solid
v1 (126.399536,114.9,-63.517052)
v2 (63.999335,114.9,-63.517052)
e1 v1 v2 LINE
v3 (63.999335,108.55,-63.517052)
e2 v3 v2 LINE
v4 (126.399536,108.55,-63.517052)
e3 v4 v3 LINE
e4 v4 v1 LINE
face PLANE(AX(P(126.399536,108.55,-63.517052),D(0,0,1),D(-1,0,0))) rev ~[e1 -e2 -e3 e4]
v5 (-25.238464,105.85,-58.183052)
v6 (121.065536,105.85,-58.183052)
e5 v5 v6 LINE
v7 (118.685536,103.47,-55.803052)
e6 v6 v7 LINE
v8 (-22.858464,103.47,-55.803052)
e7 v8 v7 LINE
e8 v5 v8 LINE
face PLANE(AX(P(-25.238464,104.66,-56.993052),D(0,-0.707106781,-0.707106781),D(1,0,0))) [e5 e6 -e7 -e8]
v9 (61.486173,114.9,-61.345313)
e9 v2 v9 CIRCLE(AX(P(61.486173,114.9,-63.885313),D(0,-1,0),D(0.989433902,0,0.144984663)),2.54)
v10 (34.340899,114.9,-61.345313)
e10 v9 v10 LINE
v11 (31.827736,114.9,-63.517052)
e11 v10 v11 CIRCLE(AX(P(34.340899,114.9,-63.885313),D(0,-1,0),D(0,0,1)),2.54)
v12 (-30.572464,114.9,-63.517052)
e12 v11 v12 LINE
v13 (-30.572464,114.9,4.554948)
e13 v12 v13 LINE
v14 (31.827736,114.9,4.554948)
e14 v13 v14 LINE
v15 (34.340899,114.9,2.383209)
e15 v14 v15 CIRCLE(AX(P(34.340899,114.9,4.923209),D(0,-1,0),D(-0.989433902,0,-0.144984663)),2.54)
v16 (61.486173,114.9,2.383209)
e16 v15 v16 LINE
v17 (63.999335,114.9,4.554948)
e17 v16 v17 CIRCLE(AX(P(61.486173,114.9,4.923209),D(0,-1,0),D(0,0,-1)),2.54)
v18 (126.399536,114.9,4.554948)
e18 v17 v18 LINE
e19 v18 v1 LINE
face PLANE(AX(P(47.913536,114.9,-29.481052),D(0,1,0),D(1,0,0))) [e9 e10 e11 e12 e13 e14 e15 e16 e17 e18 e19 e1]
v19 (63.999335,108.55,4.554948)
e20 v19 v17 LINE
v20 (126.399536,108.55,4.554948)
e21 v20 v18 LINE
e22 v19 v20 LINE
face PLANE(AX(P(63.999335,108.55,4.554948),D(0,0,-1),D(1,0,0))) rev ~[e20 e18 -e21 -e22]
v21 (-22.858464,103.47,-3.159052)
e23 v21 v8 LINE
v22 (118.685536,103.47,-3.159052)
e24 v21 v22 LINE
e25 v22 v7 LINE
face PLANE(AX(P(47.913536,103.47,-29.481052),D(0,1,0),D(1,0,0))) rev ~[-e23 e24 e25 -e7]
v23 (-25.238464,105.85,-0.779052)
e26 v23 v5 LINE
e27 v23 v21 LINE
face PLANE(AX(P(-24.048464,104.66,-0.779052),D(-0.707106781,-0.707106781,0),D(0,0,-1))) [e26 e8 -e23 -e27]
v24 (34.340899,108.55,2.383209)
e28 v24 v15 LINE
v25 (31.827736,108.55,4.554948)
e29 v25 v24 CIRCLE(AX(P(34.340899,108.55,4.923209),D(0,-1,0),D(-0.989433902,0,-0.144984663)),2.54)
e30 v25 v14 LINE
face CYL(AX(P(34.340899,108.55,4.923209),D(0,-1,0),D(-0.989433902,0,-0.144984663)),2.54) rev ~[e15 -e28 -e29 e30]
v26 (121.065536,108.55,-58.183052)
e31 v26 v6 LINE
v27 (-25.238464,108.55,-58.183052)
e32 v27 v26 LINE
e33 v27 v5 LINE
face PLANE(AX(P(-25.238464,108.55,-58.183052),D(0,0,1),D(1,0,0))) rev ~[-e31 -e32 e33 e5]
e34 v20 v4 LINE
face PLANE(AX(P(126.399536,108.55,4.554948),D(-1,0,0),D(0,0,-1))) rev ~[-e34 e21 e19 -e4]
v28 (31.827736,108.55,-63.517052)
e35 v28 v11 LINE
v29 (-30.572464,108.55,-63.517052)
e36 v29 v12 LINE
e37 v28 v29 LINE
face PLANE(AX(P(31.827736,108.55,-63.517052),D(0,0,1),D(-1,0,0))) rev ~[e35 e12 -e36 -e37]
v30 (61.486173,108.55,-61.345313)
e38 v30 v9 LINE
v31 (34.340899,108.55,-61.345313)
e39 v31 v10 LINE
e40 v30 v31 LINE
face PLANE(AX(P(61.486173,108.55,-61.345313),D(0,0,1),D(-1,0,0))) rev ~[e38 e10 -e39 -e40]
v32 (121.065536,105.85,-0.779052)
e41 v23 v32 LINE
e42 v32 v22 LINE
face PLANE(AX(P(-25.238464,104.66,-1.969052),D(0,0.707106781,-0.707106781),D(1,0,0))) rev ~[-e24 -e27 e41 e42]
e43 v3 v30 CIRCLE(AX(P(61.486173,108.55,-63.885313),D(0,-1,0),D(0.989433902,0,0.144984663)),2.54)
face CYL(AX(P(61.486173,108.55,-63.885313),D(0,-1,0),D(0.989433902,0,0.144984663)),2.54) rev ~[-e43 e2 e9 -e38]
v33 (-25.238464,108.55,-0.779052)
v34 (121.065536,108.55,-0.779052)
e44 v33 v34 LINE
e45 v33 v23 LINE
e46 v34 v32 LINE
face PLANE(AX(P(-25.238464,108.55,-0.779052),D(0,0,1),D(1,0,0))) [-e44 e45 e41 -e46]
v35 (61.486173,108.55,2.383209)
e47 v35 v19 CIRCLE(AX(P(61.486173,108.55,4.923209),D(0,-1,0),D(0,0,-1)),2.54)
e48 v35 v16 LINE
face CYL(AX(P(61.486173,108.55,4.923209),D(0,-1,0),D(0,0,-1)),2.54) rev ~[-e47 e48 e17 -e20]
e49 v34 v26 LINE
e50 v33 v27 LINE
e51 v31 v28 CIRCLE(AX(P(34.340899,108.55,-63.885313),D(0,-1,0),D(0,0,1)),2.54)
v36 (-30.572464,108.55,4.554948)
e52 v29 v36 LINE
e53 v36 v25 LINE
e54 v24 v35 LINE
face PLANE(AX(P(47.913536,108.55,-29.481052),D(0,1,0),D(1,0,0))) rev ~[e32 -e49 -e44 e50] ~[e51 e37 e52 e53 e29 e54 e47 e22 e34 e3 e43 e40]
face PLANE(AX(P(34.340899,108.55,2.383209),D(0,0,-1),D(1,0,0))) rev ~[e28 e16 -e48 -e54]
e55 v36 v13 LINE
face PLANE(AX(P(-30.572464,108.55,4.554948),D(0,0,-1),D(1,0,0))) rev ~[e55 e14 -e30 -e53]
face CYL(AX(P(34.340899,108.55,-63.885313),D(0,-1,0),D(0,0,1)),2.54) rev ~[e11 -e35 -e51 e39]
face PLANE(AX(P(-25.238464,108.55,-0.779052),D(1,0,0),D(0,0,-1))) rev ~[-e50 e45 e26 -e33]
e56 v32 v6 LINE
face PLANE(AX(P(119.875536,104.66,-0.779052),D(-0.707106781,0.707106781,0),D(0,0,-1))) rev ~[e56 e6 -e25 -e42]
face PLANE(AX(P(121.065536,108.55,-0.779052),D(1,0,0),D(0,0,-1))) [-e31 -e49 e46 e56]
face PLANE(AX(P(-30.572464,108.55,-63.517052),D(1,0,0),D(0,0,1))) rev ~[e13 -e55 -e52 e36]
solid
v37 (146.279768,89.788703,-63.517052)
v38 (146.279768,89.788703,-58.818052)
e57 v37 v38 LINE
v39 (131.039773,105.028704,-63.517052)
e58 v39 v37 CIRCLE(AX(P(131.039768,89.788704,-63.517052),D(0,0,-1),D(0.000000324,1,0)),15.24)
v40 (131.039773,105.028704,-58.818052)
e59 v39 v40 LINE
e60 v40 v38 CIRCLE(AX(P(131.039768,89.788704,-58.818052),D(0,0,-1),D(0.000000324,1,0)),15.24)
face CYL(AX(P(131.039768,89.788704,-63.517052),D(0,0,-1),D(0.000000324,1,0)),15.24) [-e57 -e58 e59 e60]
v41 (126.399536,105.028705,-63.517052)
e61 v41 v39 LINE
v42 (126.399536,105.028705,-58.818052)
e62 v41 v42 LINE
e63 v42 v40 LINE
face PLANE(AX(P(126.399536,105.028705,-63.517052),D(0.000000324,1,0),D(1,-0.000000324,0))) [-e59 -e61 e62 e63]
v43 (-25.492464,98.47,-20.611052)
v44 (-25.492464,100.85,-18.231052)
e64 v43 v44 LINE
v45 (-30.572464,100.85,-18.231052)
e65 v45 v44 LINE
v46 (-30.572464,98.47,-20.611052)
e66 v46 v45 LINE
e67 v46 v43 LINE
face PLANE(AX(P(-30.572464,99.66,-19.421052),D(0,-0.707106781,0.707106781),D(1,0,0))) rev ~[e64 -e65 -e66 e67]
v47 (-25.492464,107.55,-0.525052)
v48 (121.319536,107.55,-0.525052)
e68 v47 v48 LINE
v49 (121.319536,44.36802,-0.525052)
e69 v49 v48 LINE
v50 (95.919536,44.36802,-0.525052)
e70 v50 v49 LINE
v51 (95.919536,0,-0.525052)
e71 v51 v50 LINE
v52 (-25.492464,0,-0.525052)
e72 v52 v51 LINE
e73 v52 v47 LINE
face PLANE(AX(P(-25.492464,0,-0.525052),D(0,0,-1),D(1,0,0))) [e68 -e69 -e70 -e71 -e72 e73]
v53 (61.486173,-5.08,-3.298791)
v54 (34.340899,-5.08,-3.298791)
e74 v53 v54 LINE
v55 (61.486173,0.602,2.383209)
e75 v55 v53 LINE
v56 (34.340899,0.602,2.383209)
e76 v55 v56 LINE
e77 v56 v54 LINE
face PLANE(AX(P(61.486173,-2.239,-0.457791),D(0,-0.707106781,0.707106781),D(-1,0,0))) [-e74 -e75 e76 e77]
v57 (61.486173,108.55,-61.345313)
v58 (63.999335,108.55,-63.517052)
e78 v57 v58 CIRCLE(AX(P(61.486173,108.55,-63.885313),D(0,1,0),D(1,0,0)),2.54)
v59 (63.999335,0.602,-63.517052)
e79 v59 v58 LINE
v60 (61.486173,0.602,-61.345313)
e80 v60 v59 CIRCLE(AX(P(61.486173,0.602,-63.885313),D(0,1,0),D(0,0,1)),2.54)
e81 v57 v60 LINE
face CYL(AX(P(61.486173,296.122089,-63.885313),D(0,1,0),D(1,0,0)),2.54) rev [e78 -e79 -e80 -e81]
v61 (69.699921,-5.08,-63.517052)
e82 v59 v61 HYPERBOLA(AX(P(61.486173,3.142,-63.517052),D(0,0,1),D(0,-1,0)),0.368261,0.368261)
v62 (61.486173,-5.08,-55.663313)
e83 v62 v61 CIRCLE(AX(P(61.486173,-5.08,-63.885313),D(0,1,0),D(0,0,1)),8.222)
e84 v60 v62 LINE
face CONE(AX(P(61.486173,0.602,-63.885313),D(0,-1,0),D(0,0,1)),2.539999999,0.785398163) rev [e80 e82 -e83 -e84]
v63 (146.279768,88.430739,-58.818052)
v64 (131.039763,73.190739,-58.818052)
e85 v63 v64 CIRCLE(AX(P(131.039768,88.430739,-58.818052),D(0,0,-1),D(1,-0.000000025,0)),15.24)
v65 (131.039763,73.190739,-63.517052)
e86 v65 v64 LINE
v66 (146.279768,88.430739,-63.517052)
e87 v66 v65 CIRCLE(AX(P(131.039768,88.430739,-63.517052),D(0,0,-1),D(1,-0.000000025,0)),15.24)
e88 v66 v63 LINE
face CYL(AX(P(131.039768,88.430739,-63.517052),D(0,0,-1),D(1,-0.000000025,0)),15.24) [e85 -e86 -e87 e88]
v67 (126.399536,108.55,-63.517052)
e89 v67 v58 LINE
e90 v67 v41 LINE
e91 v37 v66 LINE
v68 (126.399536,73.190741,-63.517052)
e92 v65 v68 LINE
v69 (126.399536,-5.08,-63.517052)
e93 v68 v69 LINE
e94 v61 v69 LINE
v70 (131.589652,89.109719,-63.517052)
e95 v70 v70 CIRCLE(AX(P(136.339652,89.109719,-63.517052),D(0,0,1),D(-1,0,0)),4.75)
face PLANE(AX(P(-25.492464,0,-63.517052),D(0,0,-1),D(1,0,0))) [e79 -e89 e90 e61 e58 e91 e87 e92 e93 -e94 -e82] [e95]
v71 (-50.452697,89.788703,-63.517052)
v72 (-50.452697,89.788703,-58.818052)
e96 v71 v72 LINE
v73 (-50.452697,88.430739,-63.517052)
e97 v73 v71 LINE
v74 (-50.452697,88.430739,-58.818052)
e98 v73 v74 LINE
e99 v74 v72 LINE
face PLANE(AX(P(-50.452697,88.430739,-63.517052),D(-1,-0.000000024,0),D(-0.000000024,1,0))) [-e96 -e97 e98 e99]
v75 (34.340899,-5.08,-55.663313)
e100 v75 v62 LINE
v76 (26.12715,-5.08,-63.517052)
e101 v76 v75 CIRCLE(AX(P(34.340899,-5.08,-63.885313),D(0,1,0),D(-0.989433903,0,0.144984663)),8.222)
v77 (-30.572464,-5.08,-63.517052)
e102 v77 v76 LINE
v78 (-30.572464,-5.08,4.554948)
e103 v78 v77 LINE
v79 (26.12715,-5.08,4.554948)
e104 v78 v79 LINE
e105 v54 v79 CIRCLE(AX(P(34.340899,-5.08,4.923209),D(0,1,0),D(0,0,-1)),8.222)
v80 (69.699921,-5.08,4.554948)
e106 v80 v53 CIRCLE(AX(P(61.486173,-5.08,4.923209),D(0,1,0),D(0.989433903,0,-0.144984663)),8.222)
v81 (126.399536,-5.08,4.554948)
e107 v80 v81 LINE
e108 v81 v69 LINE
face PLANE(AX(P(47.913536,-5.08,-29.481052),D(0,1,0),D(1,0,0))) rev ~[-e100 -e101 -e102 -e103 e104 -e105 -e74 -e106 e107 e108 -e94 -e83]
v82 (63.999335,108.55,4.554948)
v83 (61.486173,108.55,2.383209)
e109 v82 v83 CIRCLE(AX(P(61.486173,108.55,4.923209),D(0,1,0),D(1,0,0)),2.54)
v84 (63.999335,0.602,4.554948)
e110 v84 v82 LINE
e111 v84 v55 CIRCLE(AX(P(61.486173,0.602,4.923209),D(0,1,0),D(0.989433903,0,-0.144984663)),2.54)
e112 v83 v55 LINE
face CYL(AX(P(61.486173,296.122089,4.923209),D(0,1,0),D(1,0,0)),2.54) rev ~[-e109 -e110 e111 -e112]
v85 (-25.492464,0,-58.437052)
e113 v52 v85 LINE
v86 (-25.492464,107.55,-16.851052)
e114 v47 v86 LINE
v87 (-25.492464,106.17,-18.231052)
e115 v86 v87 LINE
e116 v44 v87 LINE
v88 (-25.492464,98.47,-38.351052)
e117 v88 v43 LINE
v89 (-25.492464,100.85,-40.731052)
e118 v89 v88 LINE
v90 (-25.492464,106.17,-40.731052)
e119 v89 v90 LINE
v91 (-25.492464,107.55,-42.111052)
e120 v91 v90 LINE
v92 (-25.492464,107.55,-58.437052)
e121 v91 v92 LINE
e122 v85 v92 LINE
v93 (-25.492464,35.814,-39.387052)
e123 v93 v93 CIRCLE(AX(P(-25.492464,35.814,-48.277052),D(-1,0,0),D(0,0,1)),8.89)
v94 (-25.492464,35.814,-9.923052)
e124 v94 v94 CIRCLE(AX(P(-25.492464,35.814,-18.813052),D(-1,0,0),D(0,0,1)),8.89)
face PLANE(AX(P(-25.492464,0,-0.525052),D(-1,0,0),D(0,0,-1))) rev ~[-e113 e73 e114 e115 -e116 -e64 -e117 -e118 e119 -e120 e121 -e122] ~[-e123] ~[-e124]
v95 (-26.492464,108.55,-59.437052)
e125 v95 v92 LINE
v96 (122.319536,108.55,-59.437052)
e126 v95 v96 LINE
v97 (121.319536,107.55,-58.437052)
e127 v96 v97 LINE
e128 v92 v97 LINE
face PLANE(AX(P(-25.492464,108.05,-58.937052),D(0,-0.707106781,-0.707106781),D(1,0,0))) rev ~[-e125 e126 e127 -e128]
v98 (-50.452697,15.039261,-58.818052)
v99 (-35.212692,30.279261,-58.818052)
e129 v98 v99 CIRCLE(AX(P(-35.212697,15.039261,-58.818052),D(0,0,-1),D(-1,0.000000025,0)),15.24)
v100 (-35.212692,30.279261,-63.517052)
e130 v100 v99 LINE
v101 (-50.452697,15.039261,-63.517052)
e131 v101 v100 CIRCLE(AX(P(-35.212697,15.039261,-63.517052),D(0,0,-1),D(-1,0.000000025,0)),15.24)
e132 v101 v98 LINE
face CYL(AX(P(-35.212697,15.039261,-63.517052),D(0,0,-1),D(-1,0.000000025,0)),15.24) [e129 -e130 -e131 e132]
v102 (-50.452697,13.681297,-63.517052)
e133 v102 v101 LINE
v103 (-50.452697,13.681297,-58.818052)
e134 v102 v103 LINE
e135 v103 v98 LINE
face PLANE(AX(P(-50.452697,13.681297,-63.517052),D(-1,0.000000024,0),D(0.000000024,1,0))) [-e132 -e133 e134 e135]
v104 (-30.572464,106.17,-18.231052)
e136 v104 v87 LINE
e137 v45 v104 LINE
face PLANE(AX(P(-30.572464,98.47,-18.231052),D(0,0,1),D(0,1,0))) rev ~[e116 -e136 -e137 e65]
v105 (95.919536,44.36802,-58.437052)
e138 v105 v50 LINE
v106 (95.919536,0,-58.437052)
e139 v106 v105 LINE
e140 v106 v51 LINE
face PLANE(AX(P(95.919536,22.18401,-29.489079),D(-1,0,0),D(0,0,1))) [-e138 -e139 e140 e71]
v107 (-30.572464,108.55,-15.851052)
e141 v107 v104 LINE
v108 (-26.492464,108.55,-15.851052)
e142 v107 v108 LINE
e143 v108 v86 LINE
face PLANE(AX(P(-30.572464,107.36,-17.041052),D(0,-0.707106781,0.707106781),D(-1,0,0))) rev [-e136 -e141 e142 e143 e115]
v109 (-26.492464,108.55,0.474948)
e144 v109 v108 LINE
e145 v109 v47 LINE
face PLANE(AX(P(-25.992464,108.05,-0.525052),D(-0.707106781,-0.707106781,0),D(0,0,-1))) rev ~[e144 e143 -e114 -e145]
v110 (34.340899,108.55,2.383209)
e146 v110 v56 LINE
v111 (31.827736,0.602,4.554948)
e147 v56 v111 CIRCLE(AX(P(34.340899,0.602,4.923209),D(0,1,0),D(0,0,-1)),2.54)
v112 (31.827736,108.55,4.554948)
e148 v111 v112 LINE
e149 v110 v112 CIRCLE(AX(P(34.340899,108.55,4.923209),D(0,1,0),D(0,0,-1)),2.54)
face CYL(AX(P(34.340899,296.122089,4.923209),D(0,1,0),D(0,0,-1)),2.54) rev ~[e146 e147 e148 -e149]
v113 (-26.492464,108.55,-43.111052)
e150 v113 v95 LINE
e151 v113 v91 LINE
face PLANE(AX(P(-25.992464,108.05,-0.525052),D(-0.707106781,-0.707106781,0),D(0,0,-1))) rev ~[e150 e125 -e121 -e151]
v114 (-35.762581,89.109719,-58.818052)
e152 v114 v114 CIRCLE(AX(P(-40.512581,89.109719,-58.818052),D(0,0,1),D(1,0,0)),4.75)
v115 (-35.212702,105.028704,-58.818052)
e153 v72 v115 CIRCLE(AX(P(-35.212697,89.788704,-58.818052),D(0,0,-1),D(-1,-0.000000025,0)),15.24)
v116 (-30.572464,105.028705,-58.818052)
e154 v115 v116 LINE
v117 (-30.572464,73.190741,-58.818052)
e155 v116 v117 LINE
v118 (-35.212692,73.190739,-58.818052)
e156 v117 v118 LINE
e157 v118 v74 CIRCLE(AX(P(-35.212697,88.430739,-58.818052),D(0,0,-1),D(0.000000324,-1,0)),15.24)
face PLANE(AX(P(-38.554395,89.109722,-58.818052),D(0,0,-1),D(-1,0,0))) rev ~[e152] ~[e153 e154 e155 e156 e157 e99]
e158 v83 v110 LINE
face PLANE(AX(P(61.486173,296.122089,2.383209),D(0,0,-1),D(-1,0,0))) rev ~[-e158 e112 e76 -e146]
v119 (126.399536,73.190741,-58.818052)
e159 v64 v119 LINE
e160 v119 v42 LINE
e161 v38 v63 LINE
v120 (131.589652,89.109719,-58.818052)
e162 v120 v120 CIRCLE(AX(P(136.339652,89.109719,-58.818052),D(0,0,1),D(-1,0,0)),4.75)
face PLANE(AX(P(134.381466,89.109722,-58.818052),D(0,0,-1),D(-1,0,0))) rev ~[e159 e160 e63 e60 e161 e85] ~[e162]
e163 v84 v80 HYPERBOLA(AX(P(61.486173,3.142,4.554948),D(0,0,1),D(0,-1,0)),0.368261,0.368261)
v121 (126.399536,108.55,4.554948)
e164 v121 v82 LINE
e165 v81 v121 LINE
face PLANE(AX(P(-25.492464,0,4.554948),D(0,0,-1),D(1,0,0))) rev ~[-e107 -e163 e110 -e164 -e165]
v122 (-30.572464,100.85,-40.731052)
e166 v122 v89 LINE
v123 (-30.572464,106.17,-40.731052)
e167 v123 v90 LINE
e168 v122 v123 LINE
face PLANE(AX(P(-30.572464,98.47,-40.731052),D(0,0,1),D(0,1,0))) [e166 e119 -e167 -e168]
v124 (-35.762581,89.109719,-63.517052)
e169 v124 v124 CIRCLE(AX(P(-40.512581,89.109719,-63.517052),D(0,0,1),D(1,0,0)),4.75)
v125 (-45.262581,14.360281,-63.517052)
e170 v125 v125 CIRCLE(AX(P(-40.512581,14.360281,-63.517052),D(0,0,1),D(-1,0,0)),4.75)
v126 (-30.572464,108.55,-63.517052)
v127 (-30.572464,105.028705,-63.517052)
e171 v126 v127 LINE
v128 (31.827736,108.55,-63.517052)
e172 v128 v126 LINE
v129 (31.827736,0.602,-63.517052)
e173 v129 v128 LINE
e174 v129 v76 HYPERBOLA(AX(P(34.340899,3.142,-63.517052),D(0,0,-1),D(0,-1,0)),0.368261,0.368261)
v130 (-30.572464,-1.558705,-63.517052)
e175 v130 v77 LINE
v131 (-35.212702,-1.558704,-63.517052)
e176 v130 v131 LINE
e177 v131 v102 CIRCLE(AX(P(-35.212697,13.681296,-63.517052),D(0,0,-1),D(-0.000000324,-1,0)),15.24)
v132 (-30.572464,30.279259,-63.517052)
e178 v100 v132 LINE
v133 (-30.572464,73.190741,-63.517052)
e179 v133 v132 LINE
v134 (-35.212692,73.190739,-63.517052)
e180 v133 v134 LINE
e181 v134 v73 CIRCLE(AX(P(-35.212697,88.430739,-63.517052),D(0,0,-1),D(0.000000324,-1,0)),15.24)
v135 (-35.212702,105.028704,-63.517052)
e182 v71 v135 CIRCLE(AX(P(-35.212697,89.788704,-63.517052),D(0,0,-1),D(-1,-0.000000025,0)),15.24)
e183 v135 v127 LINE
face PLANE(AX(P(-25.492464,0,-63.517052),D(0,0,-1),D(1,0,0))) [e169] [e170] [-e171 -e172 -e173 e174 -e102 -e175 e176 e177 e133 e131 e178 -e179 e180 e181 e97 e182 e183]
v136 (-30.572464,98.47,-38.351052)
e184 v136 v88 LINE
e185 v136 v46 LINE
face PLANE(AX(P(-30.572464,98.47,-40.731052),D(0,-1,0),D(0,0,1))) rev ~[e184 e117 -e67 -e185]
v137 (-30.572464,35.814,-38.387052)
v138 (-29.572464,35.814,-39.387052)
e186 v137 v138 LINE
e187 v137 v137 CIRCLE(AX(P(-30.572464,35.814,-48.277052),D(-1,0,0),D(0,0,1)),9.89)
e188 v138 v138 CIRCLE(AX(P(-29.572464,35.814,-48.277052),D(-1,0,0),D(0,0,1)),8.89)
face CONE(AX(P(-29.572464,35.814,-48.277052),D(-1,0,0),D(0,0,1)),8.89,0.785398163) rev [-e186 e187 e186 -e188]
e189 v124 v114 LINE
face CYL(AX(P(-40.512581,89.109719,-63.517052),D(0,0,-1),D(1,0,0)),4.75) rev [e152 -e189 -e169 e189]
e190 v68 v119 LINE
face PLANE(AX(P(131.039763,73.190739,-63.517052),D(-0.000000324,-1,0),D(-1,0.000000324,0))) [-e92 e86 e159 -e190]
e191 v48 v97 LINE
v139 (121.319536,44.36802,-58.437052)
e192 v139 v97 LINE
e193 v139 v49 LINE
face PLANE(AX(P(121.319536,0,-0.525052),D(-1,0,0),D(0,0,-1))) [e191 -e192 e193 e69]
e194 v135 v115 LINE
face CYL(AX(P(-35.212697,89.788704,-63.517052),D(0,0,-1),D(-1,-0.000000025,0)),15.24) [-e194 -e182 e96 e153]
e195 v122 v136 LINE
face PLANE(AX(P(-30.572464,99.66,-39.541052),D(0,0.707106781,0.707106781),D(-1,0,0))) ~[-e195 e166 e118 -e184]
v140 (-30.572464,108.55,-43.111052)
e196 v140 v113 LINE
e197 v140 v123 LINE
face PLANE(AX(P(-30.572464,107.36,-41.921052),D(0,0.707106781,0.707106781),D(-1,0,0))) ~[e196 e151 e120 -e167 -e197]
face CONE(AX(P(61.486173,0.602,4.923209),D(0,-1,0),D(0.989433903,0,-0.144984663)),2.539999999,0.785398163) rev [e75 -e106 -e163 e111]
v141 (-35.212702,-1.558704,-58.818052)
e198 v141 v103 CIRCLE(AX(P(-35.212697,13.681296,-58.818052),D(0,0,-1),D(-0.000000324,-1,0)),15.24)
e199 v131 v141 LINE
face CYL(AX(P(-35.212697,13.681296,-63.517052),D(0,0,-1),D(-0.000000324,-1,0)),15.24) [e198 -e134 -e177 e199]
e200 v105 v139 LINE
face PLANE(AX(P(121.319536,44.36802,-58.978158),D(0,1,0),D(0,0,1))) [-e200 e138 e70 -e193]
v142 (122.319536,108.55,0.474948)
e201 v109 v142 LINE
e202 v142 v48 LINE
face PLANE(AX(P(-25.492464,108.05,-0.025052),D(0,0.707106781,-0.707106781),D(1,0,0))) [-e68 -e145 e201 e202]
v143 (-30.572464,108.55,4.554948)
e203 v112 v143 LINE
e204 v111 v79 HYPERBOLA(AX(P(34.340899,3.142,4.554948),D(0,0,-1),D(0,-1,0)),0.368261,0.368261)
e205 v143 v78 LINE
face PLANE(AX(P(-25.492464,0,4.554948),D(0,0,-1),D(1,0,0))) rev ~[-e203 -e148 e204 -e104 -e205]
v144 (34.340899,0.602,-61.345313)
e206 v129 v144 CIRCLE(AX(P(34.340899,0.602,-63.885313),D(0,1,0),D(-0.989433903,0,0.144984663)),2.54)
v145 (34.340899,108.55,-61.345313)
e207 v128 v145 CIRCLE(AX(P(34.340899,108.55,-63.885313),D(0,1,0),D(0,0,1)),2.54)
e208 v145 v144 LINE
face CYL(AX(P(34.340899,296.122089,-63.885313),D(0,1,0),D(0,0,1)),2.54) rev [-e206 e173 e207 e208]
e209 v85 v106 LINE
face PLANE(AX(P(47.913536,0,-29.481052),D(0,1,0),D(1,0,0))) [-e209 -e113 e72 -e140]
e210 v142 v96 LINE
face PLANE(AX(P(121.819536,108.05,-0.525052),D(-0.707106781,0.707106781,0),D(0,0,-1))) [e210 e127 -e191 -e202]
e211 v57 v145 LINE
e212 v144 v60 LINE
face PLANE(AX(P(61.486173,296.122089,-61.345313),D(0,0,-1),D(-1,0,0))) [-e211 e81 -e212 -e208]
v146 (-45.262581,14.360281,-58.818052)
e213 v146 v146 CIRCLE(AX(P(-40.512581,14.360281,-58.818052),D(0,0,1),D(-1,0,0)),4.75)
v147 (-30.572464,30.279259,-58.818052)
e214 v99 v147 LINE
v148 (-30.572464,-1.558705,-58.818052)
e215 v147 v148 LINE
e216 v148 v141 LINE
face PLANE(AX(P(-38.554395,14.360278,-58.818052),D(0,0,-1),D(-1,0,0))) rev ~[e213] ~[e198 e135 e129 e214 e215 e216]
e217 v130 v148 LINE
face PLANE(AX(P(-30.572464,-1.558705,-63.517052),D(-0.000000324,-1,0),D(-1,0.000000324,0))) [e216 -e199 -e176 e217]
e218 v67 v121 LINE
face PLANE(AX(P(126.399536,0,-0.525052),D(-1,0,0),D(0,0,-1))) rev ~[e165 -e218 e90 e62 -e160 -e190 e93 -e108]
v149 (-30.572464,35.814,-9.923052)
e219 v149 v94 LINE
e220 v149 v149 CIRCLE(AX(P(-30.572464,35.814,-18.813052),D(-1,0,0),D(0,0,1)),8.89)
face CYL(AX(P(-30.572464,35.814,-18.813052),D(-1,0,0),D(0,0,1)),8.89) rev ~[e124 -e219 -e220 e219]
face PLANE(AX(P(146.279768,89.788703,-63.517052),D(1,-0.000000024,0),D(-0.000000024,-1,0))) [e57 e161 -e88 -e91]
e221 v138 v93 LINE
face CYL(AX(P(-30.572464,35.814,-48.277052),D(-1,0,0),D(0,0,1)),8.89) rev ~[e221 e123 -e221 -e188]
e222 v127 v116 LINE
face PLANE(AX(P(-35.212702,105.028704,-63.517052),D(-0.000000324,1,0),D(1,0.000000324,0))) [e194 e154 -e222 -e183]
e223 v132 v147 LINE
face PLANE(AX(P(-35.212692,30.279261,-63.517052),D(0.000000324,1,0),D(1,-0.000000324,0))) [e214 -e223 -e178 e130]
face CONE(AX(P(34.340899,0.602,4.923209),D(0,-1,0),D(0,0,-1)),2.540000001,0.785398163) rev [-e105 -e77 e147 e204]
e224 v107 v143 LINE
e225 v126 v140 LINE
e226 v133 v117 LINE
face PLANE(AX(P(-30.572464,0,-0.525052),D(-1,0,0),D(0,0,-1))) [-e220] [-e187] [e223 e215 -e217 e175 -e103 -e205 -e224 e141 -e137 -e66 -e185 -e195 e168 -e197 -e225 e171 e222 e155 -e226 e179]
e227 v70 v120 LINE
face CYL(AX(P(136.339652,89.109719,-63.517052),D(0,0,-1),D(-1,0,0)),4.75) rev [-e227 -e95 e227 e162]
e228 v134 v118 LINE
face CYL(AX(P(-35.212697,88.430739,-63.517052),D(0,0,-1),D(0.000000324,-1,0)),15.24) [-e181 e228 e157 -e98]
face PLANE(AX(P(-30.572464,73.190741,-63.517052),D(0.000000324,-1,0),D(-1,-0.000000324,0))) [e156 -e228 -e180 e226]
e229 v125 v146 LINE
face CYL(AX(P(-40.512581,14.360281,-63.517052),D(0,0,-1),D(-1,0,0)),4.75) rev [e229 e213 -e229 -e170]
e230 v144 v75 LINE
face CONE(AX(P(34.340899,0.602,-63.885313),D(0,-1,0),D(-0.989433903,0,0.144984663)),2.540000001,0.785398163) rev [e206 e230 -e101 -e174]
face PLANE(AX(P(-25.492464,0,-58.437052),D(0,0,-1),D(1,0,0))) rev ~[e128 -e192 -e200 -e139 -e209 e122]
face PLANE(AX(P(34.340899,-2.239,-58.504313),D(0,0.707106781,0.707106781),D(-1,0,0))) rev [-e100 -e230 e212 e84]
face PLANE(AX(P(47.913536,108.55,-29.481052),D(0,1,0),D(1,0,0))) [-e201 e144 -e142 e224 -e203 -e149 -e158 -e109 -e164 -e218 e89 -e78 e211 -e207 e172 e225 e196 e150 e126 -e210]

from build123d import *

# Parameters (mm, degrees)
SKETCH1_W               = 146.812
SKETCH1_H               = 57.912
BOSS_EXTRUDE1_DEPTH     = 108.55000007
SHELL1_T                = 5.08
CUT_EXTRUDE1_REACH      = 203.141
SKETCH2_R               = 8.89
CUT_EXTRUDE4_DEPTH      = 187.572089224
CUT_EXTRUDE4_DEPTH_BACK = 187.572089224
CHAMFER1_SIZE           = 5.682000066
BOSS_EXTRUDE2_DEPTH     = 6.35
SKETCH4_5_W             = 146.304
SKETCH4_5_H             = 57.404
BOSS_EXTRUDE3_DEPTH     = 5.08
CHAMFER2_SIZE           = 2.38
CHAMFER4_SIZE           = 1
CHAMFER5_SIZE           = 1
SKETCH6_W               = 22.5
SKETCH6_H               = 20.16
CUT_EXTRUDE6_DEPTH      = 5.08
CHAMFER6_SIZE           = 2.38
SKETCH8_R               = 4.75
BOSS_EXTRUDE4_DEPTH     = 4.699
SKETCH10_R              = 8.89
CUT_EXTRUDE10_DEPTH     = 25.4
SKETCH14_W              = 58.978157653
SKETCH14_H              = 44.368020442
BOSS_EXTRUDE7_DEPTH     = 25.4


with BuildPart() as part:
    # Sketch1 → Boss-Extrude1 (new body)
    with BuildSketch(Plane(origin=(0, 0, 0), x_dir=(1, 0, 0), z_dir=(0, 1, 0))):
        with Locations((47.913535633, 29.481052451)):
            Rectangle(SKETCH1_W, SKETCH1_H)
    extrude(amount=BOSS_EXTRUDE1_DEPTH)

    # Shell1
    shell1_openings = [part.faces().sort_by_distance(p)[0] for p in [
        (47.913535633, 108.55000007, -29.481052451),
    ]]
    offset(amount=SHELL1_T, openings=shell1_openings, kind=Kind.INTERSECTION)

    # Sketch2 → Cut-Extrude1 (cut, up to next)
    with BuildSketch(Plane.ZY.offset(30.572464367), mode=Mode.PRIVATE) as cut_extrude1_sk1:
        with Locations((-48.277052451, 35.814)):
            Circle(SKETCH2_R)
    cut_extrude1_tool1 = extrude(cut_extrude1_sk1.sketch, amount=-CUT_EXTRUDE1_REACH, mode=Mode.PRIVATE) & part.part
    add(cut_extrude1_tool1.solids().sort_by_distance((-30.572464, 35.814, -48.277052))[0], mode=Mode.SUBTRACT)

    # Sketch3 → Cut-Extrude4 (cut, two sides: drawn at the far end of the back side and taken through both)
    with BuildSketch(Plane(origin=(0, 108.55000007, -72.39), x_dir=(1, 0, 0), z_dir=(0, -1, 0)).offset(-CUT_EXTRUDE4_DEPTH_BACK)):
        with BuildLine():
            Line((31.800898604, 8.504686505), (31.800898604, 0.374266878))
            Line((31.800898604, 0.374266878), (64.026172661, 0.374266878))
            Line((64.026172661, 0.374266878), (64.026172661, 8.504686505))
            ThreePointArc((64.026172661, 8.504686505), (63.282223886, 10.300737729), (61.486172661, 11.044686505))
            Line((61.486172661, 11.044686505), (34.340898604, 11.044686505))
            ThreePointArc((34.340898604, 11.044686505), (32.54484738, 10.300737729), (31.800898604, 8.504686505))
        make_face()
        with BuildLine():
            Line((31.800898604, 85.44362822), (64.026172661, 85.44362822))
            Line((64.026172661, 85.44362822), (64.026172661, 77.313208593))
            ThreePointArc((64.026172661, 77.313208593), (63.282223886, 75.517157369), (61.486172661, 74.773208593))
            Line((61.486172661, 74.773208593), (34.340898604, 74.773208593))
            ThreePointArc((34.340898604, 74.773208593), (32.54484738, 75.517157369), (31.800898604, 77.313208593))
            Line((31.800898604, 77.313208593), (31.800898604, 85.44362822))
        make_face()
    extrude(amount=CUT_EXTRUDE4_DEPTH + CUT_EXTRUDE4_DEPTH_BACK, mode=Mode.SUBTRACT)

    # Chamfer1
    chamfer1_edges = [part.edges().sort_by_distance(p)[0] for p in [
        (32.680143211, -5.08, 3.001362729),
        (63.146928054, -5.08, -61.963467631),
        (47.913535633, -5.08, -61.345313495),
        (32.680143211, -5.08, -61.963467631),
        (47.913535633, -5.08, 2.383208593),
        (63.146928054, -5.08, 3.001362729),
    ]]
    chamfer(chamfer1_edges, length=CHAMFER1_SIZE)

    # Chamfer4
    chamfer4_edges = [part.edges().sort_by_distance(p)[0] for p in [
        (121.319535633, 108.55000007, -29.481052451),
        (47.913535633, 108.55000007, -58.437052451),
        (47.913535633, 108.55000007, -0.525052451),
        (-25.492464367, 108.55000007, -29.481052451),
    ]]
    chamfer(chamfer4_edges, length=CHAMFER4_SIZE)

    # Chamfer5
    chamfer5_edges = [part.edges().sort_by_distance(p)[0] for p in [
        (-30.572464367, 35.814, -57.167052451),
    ]]
    chamfer(chamfer5_edges, length=CHAMFER5_SIZE)

    # Sketch6 → Cut-Extrude6 (cut)
    with BuildSketch(Plane.ZY.offset(30.572464367)):
        with Locations((-29.481052451, 108.55000007)):
            Rectangle(SKETCH6_W, SKETCH6_H)
    extrude(amount=-CUT_EXTRUDE6_DEPTH, mode=Mode.SUBTRACT)

    # Chamfer6
    chamfer6_edges = [part.edges().sort_by_distance(p)[0] for p in [
        (-28.532464367, 108.55000007, -18.231052451),
        (-28.032464367, 98.47000007, -18.231052451),
        (-28.032464367, 98.47000007, -40.731052451),
        (-28.532464367, 108.55000007, -40.731052451),
    ]]
    chamfer(chamfer6_edges, length=CHAMFER6_SIZE)

    # Sketch8 → Boss-Extrude4 (add)
    # profile 1 of 3: a face of its own
    with BuildSketch(Plane(origin=(0, -31.597052283, -63.517052451), x_dir=(1, 0, 0), z_dir=(0, 0, 1))):
        with BuildLine():
            Line((-50.452696683, 120.027791223), (-50.452696716, 121.385755516))
            ThreePointArc((-50.452696716, 121.385755516), (-45.989005942, 132.162061359), (-35.212701658, 136.625755894))
            Line((-35.212701658, 136.625755894), (-30.572464367, 136.625757399))
            Line((-30.572464367, 136.625757399), (-30.572464367, 104.787793105))
            Line((-30.572464367, 104.787793105), (-35.212691741, 104.787791601))
            ThreePointArc((-35.212691741, 104.787791601), (-45.989002147, 109.251482375), (-50.452696683, 120.027791223))
        make_face()
        with Locations((-40.512580533, 120.706771713)):
            Circle(SKETCH8_R, mode=Mode.SUBTRACT)
    # profile 2 of 3: a face of its own
    with BuildSketch(Plane(origin=(0, -31.597052283, -63.517052451), x_dir=(1, 0, 0), z_dir=(0, 0, 1))):
        with BuildLine():
            Line((-30.572464367, 61.876311531), (-30.572464367, 30.038347237))
            Line((-30.572464367, 30.038347237), (-35.212701658, 30.038348742))
            ThreePointArc((-35.212701658, 30.038348742), (-45.989005942, 34.502043277), (-50.452696716, 45.27834912))
            Line((-50.452696716, 45.27834912), (-50.452696683, 46.636313414))
            ThreePointArc((-50.452696683, 46.636313414), (-45.989002147, 57.412622262), (-35.212691741, 61.876313036))
            Line((-35.212691741, 61.876313036), (-30.572464367, 61.876311531))
        make_face()
        with Locations(Location((-40.512580533, 45.957332923, 0), (0, 0, 180))):
            Circle(SKETCH8_R, mode=Mode.SUBTRACT)
    # profile 3 of 3: a face of its own
    with BuildSketch(Plane(origin=(0, -31.597052283, -63.517052451), x_dir=(1, 0, 0), z_dir=(0, 0, 1))):
        with BuildLine():
            Line((126.399535633, 104.787793105), (126.399535633, 136.625757399))
            Line((126.399535633, 136.625757399), (131.039772923, 136.625755894))
            ThreePointArc((131.039772923, 136.625755894), (141.816077208, 132.162061359), (146.279767981, 121.385755516))
            Line((146.279767981, 121.385755516), (146.279767948, 120.027791223))
            ThreePointArc((146.279767948, 120.027791223), (141.816073412, 109.251482375), (131.039763006, 104.787791601))
            Line((131.039763006, 104.787791601), (126.399535633, 104.787793105))
        make_face()
        with Locations(Location((136.339651799, 120.706771713, 0), (0, 0, 180))):
            Circle(SKETCH8_R, mode=Mode.SUBTRACT)
    extrude(amount=BOSS_EXTRUDE4_DEPTH)

    # Sketch10 → Cut-Extrude10 (cut)
    with BuildSketch(Plane.ZY.offset(30.572464367)):
        with Locations((-18.813052451, 35.814)):
            Circle(SKETCH10_R)
    extrude(amount=-CUT_EXTRUDE10_DEPTH, mode=Mode.SUBTRACT)

    # Sketch14 → Boss-Extrude7 (add)
    with BuildSketch(Plane.ZY.offset(-121.319535633)):
        with Locations((-29.489078827, 22.184010221)):
            Rectangle(SKETCH14_W, SKETCH14_H)
    extrude(amount=BOSS_EXTRUDE7_DEPTH)


with BuildPart() as body_2:
    # Sketch4 → Boss-Extrude2 (new body)
    with BuildSketch(Plane(origin=(0, 108.55000007, 0), x_dir=(1, 0, 0), z_dir=(0, 1, 0))):
        with BuildLine():
            Line((31.827736491, 63.517052451), (-30.572464367, 63.517052451))
            Line((-30.572464367, 63.517052451), (-30.572464367, -4.554947549))
            Line((-30.572464367, -4.554947549), (31.827736491, -4.554947549))
            ThreePointArc((31.827736491, -4.554947549), (32.680143211, -3.001362729), (34.340898604, -2.383208593))
            Line((34.340898604, -2.383208593), (61.486172661, -2.383208593))
            ThreePointArc((61.486172661, -2.383208593), (63.146928054, -3.001362729), (63.999334774, -4.554947549))
            Line((63.999334774, -4.554947549), (126.399535633, -4.554947549))
            Line((126.399535633, -4.554947549), (126.399535633, 63.517052451))
            Line((126.399535633, 63.517052451), (63.999334774, 63.517052451))
            ThreePointArc((63.999334774, 63.517052451), (63.146928054, 61.963467631), (61.486172661, 61.345313495))
            Line((61.486172661, 61.345313495), (34.340898604, 61.345313495))
            ThreePointArc((34.340898604, 61.345313495), (32.680143211, 61.963467631), (31.827736491, 63.517052451))
        make_face()
    extrude(amount=BOSS_EXTRUDE2_DEPTH)

    # Sketch4<5> → Boss-Extrude3 (add)
    with BuildSketch(Plane(origin=(0, 108.55000007, 0), x_dir=(1, 0, 0), z_dir=(0, 1, 0))):
        with Locations((47.913535633, 29.481052451)):
            Rectangle(SKETCH4_5_W, SKETCH4_5_H)
    extrude(amount=-BOSS_EXTRUDE3_DEPTH)

    # Chamfer2
    chamfer2_edges = [body_2.edges().sort_by_distance(p)[0] for p in [
        (121.065535633, 103.47000007, -29.481052451),
        (47.913535633, 103.47000007, -0.779052451),
        (-25.238464367, 103.47000007, -29.481052451),
        (47.913535633, 103.47000007, -58.183052451),
    ]]
    chamfer(chamfer2_edges, length=CHAMFER2_SIZE)


solid = Compound([part.part, body_2.part])
